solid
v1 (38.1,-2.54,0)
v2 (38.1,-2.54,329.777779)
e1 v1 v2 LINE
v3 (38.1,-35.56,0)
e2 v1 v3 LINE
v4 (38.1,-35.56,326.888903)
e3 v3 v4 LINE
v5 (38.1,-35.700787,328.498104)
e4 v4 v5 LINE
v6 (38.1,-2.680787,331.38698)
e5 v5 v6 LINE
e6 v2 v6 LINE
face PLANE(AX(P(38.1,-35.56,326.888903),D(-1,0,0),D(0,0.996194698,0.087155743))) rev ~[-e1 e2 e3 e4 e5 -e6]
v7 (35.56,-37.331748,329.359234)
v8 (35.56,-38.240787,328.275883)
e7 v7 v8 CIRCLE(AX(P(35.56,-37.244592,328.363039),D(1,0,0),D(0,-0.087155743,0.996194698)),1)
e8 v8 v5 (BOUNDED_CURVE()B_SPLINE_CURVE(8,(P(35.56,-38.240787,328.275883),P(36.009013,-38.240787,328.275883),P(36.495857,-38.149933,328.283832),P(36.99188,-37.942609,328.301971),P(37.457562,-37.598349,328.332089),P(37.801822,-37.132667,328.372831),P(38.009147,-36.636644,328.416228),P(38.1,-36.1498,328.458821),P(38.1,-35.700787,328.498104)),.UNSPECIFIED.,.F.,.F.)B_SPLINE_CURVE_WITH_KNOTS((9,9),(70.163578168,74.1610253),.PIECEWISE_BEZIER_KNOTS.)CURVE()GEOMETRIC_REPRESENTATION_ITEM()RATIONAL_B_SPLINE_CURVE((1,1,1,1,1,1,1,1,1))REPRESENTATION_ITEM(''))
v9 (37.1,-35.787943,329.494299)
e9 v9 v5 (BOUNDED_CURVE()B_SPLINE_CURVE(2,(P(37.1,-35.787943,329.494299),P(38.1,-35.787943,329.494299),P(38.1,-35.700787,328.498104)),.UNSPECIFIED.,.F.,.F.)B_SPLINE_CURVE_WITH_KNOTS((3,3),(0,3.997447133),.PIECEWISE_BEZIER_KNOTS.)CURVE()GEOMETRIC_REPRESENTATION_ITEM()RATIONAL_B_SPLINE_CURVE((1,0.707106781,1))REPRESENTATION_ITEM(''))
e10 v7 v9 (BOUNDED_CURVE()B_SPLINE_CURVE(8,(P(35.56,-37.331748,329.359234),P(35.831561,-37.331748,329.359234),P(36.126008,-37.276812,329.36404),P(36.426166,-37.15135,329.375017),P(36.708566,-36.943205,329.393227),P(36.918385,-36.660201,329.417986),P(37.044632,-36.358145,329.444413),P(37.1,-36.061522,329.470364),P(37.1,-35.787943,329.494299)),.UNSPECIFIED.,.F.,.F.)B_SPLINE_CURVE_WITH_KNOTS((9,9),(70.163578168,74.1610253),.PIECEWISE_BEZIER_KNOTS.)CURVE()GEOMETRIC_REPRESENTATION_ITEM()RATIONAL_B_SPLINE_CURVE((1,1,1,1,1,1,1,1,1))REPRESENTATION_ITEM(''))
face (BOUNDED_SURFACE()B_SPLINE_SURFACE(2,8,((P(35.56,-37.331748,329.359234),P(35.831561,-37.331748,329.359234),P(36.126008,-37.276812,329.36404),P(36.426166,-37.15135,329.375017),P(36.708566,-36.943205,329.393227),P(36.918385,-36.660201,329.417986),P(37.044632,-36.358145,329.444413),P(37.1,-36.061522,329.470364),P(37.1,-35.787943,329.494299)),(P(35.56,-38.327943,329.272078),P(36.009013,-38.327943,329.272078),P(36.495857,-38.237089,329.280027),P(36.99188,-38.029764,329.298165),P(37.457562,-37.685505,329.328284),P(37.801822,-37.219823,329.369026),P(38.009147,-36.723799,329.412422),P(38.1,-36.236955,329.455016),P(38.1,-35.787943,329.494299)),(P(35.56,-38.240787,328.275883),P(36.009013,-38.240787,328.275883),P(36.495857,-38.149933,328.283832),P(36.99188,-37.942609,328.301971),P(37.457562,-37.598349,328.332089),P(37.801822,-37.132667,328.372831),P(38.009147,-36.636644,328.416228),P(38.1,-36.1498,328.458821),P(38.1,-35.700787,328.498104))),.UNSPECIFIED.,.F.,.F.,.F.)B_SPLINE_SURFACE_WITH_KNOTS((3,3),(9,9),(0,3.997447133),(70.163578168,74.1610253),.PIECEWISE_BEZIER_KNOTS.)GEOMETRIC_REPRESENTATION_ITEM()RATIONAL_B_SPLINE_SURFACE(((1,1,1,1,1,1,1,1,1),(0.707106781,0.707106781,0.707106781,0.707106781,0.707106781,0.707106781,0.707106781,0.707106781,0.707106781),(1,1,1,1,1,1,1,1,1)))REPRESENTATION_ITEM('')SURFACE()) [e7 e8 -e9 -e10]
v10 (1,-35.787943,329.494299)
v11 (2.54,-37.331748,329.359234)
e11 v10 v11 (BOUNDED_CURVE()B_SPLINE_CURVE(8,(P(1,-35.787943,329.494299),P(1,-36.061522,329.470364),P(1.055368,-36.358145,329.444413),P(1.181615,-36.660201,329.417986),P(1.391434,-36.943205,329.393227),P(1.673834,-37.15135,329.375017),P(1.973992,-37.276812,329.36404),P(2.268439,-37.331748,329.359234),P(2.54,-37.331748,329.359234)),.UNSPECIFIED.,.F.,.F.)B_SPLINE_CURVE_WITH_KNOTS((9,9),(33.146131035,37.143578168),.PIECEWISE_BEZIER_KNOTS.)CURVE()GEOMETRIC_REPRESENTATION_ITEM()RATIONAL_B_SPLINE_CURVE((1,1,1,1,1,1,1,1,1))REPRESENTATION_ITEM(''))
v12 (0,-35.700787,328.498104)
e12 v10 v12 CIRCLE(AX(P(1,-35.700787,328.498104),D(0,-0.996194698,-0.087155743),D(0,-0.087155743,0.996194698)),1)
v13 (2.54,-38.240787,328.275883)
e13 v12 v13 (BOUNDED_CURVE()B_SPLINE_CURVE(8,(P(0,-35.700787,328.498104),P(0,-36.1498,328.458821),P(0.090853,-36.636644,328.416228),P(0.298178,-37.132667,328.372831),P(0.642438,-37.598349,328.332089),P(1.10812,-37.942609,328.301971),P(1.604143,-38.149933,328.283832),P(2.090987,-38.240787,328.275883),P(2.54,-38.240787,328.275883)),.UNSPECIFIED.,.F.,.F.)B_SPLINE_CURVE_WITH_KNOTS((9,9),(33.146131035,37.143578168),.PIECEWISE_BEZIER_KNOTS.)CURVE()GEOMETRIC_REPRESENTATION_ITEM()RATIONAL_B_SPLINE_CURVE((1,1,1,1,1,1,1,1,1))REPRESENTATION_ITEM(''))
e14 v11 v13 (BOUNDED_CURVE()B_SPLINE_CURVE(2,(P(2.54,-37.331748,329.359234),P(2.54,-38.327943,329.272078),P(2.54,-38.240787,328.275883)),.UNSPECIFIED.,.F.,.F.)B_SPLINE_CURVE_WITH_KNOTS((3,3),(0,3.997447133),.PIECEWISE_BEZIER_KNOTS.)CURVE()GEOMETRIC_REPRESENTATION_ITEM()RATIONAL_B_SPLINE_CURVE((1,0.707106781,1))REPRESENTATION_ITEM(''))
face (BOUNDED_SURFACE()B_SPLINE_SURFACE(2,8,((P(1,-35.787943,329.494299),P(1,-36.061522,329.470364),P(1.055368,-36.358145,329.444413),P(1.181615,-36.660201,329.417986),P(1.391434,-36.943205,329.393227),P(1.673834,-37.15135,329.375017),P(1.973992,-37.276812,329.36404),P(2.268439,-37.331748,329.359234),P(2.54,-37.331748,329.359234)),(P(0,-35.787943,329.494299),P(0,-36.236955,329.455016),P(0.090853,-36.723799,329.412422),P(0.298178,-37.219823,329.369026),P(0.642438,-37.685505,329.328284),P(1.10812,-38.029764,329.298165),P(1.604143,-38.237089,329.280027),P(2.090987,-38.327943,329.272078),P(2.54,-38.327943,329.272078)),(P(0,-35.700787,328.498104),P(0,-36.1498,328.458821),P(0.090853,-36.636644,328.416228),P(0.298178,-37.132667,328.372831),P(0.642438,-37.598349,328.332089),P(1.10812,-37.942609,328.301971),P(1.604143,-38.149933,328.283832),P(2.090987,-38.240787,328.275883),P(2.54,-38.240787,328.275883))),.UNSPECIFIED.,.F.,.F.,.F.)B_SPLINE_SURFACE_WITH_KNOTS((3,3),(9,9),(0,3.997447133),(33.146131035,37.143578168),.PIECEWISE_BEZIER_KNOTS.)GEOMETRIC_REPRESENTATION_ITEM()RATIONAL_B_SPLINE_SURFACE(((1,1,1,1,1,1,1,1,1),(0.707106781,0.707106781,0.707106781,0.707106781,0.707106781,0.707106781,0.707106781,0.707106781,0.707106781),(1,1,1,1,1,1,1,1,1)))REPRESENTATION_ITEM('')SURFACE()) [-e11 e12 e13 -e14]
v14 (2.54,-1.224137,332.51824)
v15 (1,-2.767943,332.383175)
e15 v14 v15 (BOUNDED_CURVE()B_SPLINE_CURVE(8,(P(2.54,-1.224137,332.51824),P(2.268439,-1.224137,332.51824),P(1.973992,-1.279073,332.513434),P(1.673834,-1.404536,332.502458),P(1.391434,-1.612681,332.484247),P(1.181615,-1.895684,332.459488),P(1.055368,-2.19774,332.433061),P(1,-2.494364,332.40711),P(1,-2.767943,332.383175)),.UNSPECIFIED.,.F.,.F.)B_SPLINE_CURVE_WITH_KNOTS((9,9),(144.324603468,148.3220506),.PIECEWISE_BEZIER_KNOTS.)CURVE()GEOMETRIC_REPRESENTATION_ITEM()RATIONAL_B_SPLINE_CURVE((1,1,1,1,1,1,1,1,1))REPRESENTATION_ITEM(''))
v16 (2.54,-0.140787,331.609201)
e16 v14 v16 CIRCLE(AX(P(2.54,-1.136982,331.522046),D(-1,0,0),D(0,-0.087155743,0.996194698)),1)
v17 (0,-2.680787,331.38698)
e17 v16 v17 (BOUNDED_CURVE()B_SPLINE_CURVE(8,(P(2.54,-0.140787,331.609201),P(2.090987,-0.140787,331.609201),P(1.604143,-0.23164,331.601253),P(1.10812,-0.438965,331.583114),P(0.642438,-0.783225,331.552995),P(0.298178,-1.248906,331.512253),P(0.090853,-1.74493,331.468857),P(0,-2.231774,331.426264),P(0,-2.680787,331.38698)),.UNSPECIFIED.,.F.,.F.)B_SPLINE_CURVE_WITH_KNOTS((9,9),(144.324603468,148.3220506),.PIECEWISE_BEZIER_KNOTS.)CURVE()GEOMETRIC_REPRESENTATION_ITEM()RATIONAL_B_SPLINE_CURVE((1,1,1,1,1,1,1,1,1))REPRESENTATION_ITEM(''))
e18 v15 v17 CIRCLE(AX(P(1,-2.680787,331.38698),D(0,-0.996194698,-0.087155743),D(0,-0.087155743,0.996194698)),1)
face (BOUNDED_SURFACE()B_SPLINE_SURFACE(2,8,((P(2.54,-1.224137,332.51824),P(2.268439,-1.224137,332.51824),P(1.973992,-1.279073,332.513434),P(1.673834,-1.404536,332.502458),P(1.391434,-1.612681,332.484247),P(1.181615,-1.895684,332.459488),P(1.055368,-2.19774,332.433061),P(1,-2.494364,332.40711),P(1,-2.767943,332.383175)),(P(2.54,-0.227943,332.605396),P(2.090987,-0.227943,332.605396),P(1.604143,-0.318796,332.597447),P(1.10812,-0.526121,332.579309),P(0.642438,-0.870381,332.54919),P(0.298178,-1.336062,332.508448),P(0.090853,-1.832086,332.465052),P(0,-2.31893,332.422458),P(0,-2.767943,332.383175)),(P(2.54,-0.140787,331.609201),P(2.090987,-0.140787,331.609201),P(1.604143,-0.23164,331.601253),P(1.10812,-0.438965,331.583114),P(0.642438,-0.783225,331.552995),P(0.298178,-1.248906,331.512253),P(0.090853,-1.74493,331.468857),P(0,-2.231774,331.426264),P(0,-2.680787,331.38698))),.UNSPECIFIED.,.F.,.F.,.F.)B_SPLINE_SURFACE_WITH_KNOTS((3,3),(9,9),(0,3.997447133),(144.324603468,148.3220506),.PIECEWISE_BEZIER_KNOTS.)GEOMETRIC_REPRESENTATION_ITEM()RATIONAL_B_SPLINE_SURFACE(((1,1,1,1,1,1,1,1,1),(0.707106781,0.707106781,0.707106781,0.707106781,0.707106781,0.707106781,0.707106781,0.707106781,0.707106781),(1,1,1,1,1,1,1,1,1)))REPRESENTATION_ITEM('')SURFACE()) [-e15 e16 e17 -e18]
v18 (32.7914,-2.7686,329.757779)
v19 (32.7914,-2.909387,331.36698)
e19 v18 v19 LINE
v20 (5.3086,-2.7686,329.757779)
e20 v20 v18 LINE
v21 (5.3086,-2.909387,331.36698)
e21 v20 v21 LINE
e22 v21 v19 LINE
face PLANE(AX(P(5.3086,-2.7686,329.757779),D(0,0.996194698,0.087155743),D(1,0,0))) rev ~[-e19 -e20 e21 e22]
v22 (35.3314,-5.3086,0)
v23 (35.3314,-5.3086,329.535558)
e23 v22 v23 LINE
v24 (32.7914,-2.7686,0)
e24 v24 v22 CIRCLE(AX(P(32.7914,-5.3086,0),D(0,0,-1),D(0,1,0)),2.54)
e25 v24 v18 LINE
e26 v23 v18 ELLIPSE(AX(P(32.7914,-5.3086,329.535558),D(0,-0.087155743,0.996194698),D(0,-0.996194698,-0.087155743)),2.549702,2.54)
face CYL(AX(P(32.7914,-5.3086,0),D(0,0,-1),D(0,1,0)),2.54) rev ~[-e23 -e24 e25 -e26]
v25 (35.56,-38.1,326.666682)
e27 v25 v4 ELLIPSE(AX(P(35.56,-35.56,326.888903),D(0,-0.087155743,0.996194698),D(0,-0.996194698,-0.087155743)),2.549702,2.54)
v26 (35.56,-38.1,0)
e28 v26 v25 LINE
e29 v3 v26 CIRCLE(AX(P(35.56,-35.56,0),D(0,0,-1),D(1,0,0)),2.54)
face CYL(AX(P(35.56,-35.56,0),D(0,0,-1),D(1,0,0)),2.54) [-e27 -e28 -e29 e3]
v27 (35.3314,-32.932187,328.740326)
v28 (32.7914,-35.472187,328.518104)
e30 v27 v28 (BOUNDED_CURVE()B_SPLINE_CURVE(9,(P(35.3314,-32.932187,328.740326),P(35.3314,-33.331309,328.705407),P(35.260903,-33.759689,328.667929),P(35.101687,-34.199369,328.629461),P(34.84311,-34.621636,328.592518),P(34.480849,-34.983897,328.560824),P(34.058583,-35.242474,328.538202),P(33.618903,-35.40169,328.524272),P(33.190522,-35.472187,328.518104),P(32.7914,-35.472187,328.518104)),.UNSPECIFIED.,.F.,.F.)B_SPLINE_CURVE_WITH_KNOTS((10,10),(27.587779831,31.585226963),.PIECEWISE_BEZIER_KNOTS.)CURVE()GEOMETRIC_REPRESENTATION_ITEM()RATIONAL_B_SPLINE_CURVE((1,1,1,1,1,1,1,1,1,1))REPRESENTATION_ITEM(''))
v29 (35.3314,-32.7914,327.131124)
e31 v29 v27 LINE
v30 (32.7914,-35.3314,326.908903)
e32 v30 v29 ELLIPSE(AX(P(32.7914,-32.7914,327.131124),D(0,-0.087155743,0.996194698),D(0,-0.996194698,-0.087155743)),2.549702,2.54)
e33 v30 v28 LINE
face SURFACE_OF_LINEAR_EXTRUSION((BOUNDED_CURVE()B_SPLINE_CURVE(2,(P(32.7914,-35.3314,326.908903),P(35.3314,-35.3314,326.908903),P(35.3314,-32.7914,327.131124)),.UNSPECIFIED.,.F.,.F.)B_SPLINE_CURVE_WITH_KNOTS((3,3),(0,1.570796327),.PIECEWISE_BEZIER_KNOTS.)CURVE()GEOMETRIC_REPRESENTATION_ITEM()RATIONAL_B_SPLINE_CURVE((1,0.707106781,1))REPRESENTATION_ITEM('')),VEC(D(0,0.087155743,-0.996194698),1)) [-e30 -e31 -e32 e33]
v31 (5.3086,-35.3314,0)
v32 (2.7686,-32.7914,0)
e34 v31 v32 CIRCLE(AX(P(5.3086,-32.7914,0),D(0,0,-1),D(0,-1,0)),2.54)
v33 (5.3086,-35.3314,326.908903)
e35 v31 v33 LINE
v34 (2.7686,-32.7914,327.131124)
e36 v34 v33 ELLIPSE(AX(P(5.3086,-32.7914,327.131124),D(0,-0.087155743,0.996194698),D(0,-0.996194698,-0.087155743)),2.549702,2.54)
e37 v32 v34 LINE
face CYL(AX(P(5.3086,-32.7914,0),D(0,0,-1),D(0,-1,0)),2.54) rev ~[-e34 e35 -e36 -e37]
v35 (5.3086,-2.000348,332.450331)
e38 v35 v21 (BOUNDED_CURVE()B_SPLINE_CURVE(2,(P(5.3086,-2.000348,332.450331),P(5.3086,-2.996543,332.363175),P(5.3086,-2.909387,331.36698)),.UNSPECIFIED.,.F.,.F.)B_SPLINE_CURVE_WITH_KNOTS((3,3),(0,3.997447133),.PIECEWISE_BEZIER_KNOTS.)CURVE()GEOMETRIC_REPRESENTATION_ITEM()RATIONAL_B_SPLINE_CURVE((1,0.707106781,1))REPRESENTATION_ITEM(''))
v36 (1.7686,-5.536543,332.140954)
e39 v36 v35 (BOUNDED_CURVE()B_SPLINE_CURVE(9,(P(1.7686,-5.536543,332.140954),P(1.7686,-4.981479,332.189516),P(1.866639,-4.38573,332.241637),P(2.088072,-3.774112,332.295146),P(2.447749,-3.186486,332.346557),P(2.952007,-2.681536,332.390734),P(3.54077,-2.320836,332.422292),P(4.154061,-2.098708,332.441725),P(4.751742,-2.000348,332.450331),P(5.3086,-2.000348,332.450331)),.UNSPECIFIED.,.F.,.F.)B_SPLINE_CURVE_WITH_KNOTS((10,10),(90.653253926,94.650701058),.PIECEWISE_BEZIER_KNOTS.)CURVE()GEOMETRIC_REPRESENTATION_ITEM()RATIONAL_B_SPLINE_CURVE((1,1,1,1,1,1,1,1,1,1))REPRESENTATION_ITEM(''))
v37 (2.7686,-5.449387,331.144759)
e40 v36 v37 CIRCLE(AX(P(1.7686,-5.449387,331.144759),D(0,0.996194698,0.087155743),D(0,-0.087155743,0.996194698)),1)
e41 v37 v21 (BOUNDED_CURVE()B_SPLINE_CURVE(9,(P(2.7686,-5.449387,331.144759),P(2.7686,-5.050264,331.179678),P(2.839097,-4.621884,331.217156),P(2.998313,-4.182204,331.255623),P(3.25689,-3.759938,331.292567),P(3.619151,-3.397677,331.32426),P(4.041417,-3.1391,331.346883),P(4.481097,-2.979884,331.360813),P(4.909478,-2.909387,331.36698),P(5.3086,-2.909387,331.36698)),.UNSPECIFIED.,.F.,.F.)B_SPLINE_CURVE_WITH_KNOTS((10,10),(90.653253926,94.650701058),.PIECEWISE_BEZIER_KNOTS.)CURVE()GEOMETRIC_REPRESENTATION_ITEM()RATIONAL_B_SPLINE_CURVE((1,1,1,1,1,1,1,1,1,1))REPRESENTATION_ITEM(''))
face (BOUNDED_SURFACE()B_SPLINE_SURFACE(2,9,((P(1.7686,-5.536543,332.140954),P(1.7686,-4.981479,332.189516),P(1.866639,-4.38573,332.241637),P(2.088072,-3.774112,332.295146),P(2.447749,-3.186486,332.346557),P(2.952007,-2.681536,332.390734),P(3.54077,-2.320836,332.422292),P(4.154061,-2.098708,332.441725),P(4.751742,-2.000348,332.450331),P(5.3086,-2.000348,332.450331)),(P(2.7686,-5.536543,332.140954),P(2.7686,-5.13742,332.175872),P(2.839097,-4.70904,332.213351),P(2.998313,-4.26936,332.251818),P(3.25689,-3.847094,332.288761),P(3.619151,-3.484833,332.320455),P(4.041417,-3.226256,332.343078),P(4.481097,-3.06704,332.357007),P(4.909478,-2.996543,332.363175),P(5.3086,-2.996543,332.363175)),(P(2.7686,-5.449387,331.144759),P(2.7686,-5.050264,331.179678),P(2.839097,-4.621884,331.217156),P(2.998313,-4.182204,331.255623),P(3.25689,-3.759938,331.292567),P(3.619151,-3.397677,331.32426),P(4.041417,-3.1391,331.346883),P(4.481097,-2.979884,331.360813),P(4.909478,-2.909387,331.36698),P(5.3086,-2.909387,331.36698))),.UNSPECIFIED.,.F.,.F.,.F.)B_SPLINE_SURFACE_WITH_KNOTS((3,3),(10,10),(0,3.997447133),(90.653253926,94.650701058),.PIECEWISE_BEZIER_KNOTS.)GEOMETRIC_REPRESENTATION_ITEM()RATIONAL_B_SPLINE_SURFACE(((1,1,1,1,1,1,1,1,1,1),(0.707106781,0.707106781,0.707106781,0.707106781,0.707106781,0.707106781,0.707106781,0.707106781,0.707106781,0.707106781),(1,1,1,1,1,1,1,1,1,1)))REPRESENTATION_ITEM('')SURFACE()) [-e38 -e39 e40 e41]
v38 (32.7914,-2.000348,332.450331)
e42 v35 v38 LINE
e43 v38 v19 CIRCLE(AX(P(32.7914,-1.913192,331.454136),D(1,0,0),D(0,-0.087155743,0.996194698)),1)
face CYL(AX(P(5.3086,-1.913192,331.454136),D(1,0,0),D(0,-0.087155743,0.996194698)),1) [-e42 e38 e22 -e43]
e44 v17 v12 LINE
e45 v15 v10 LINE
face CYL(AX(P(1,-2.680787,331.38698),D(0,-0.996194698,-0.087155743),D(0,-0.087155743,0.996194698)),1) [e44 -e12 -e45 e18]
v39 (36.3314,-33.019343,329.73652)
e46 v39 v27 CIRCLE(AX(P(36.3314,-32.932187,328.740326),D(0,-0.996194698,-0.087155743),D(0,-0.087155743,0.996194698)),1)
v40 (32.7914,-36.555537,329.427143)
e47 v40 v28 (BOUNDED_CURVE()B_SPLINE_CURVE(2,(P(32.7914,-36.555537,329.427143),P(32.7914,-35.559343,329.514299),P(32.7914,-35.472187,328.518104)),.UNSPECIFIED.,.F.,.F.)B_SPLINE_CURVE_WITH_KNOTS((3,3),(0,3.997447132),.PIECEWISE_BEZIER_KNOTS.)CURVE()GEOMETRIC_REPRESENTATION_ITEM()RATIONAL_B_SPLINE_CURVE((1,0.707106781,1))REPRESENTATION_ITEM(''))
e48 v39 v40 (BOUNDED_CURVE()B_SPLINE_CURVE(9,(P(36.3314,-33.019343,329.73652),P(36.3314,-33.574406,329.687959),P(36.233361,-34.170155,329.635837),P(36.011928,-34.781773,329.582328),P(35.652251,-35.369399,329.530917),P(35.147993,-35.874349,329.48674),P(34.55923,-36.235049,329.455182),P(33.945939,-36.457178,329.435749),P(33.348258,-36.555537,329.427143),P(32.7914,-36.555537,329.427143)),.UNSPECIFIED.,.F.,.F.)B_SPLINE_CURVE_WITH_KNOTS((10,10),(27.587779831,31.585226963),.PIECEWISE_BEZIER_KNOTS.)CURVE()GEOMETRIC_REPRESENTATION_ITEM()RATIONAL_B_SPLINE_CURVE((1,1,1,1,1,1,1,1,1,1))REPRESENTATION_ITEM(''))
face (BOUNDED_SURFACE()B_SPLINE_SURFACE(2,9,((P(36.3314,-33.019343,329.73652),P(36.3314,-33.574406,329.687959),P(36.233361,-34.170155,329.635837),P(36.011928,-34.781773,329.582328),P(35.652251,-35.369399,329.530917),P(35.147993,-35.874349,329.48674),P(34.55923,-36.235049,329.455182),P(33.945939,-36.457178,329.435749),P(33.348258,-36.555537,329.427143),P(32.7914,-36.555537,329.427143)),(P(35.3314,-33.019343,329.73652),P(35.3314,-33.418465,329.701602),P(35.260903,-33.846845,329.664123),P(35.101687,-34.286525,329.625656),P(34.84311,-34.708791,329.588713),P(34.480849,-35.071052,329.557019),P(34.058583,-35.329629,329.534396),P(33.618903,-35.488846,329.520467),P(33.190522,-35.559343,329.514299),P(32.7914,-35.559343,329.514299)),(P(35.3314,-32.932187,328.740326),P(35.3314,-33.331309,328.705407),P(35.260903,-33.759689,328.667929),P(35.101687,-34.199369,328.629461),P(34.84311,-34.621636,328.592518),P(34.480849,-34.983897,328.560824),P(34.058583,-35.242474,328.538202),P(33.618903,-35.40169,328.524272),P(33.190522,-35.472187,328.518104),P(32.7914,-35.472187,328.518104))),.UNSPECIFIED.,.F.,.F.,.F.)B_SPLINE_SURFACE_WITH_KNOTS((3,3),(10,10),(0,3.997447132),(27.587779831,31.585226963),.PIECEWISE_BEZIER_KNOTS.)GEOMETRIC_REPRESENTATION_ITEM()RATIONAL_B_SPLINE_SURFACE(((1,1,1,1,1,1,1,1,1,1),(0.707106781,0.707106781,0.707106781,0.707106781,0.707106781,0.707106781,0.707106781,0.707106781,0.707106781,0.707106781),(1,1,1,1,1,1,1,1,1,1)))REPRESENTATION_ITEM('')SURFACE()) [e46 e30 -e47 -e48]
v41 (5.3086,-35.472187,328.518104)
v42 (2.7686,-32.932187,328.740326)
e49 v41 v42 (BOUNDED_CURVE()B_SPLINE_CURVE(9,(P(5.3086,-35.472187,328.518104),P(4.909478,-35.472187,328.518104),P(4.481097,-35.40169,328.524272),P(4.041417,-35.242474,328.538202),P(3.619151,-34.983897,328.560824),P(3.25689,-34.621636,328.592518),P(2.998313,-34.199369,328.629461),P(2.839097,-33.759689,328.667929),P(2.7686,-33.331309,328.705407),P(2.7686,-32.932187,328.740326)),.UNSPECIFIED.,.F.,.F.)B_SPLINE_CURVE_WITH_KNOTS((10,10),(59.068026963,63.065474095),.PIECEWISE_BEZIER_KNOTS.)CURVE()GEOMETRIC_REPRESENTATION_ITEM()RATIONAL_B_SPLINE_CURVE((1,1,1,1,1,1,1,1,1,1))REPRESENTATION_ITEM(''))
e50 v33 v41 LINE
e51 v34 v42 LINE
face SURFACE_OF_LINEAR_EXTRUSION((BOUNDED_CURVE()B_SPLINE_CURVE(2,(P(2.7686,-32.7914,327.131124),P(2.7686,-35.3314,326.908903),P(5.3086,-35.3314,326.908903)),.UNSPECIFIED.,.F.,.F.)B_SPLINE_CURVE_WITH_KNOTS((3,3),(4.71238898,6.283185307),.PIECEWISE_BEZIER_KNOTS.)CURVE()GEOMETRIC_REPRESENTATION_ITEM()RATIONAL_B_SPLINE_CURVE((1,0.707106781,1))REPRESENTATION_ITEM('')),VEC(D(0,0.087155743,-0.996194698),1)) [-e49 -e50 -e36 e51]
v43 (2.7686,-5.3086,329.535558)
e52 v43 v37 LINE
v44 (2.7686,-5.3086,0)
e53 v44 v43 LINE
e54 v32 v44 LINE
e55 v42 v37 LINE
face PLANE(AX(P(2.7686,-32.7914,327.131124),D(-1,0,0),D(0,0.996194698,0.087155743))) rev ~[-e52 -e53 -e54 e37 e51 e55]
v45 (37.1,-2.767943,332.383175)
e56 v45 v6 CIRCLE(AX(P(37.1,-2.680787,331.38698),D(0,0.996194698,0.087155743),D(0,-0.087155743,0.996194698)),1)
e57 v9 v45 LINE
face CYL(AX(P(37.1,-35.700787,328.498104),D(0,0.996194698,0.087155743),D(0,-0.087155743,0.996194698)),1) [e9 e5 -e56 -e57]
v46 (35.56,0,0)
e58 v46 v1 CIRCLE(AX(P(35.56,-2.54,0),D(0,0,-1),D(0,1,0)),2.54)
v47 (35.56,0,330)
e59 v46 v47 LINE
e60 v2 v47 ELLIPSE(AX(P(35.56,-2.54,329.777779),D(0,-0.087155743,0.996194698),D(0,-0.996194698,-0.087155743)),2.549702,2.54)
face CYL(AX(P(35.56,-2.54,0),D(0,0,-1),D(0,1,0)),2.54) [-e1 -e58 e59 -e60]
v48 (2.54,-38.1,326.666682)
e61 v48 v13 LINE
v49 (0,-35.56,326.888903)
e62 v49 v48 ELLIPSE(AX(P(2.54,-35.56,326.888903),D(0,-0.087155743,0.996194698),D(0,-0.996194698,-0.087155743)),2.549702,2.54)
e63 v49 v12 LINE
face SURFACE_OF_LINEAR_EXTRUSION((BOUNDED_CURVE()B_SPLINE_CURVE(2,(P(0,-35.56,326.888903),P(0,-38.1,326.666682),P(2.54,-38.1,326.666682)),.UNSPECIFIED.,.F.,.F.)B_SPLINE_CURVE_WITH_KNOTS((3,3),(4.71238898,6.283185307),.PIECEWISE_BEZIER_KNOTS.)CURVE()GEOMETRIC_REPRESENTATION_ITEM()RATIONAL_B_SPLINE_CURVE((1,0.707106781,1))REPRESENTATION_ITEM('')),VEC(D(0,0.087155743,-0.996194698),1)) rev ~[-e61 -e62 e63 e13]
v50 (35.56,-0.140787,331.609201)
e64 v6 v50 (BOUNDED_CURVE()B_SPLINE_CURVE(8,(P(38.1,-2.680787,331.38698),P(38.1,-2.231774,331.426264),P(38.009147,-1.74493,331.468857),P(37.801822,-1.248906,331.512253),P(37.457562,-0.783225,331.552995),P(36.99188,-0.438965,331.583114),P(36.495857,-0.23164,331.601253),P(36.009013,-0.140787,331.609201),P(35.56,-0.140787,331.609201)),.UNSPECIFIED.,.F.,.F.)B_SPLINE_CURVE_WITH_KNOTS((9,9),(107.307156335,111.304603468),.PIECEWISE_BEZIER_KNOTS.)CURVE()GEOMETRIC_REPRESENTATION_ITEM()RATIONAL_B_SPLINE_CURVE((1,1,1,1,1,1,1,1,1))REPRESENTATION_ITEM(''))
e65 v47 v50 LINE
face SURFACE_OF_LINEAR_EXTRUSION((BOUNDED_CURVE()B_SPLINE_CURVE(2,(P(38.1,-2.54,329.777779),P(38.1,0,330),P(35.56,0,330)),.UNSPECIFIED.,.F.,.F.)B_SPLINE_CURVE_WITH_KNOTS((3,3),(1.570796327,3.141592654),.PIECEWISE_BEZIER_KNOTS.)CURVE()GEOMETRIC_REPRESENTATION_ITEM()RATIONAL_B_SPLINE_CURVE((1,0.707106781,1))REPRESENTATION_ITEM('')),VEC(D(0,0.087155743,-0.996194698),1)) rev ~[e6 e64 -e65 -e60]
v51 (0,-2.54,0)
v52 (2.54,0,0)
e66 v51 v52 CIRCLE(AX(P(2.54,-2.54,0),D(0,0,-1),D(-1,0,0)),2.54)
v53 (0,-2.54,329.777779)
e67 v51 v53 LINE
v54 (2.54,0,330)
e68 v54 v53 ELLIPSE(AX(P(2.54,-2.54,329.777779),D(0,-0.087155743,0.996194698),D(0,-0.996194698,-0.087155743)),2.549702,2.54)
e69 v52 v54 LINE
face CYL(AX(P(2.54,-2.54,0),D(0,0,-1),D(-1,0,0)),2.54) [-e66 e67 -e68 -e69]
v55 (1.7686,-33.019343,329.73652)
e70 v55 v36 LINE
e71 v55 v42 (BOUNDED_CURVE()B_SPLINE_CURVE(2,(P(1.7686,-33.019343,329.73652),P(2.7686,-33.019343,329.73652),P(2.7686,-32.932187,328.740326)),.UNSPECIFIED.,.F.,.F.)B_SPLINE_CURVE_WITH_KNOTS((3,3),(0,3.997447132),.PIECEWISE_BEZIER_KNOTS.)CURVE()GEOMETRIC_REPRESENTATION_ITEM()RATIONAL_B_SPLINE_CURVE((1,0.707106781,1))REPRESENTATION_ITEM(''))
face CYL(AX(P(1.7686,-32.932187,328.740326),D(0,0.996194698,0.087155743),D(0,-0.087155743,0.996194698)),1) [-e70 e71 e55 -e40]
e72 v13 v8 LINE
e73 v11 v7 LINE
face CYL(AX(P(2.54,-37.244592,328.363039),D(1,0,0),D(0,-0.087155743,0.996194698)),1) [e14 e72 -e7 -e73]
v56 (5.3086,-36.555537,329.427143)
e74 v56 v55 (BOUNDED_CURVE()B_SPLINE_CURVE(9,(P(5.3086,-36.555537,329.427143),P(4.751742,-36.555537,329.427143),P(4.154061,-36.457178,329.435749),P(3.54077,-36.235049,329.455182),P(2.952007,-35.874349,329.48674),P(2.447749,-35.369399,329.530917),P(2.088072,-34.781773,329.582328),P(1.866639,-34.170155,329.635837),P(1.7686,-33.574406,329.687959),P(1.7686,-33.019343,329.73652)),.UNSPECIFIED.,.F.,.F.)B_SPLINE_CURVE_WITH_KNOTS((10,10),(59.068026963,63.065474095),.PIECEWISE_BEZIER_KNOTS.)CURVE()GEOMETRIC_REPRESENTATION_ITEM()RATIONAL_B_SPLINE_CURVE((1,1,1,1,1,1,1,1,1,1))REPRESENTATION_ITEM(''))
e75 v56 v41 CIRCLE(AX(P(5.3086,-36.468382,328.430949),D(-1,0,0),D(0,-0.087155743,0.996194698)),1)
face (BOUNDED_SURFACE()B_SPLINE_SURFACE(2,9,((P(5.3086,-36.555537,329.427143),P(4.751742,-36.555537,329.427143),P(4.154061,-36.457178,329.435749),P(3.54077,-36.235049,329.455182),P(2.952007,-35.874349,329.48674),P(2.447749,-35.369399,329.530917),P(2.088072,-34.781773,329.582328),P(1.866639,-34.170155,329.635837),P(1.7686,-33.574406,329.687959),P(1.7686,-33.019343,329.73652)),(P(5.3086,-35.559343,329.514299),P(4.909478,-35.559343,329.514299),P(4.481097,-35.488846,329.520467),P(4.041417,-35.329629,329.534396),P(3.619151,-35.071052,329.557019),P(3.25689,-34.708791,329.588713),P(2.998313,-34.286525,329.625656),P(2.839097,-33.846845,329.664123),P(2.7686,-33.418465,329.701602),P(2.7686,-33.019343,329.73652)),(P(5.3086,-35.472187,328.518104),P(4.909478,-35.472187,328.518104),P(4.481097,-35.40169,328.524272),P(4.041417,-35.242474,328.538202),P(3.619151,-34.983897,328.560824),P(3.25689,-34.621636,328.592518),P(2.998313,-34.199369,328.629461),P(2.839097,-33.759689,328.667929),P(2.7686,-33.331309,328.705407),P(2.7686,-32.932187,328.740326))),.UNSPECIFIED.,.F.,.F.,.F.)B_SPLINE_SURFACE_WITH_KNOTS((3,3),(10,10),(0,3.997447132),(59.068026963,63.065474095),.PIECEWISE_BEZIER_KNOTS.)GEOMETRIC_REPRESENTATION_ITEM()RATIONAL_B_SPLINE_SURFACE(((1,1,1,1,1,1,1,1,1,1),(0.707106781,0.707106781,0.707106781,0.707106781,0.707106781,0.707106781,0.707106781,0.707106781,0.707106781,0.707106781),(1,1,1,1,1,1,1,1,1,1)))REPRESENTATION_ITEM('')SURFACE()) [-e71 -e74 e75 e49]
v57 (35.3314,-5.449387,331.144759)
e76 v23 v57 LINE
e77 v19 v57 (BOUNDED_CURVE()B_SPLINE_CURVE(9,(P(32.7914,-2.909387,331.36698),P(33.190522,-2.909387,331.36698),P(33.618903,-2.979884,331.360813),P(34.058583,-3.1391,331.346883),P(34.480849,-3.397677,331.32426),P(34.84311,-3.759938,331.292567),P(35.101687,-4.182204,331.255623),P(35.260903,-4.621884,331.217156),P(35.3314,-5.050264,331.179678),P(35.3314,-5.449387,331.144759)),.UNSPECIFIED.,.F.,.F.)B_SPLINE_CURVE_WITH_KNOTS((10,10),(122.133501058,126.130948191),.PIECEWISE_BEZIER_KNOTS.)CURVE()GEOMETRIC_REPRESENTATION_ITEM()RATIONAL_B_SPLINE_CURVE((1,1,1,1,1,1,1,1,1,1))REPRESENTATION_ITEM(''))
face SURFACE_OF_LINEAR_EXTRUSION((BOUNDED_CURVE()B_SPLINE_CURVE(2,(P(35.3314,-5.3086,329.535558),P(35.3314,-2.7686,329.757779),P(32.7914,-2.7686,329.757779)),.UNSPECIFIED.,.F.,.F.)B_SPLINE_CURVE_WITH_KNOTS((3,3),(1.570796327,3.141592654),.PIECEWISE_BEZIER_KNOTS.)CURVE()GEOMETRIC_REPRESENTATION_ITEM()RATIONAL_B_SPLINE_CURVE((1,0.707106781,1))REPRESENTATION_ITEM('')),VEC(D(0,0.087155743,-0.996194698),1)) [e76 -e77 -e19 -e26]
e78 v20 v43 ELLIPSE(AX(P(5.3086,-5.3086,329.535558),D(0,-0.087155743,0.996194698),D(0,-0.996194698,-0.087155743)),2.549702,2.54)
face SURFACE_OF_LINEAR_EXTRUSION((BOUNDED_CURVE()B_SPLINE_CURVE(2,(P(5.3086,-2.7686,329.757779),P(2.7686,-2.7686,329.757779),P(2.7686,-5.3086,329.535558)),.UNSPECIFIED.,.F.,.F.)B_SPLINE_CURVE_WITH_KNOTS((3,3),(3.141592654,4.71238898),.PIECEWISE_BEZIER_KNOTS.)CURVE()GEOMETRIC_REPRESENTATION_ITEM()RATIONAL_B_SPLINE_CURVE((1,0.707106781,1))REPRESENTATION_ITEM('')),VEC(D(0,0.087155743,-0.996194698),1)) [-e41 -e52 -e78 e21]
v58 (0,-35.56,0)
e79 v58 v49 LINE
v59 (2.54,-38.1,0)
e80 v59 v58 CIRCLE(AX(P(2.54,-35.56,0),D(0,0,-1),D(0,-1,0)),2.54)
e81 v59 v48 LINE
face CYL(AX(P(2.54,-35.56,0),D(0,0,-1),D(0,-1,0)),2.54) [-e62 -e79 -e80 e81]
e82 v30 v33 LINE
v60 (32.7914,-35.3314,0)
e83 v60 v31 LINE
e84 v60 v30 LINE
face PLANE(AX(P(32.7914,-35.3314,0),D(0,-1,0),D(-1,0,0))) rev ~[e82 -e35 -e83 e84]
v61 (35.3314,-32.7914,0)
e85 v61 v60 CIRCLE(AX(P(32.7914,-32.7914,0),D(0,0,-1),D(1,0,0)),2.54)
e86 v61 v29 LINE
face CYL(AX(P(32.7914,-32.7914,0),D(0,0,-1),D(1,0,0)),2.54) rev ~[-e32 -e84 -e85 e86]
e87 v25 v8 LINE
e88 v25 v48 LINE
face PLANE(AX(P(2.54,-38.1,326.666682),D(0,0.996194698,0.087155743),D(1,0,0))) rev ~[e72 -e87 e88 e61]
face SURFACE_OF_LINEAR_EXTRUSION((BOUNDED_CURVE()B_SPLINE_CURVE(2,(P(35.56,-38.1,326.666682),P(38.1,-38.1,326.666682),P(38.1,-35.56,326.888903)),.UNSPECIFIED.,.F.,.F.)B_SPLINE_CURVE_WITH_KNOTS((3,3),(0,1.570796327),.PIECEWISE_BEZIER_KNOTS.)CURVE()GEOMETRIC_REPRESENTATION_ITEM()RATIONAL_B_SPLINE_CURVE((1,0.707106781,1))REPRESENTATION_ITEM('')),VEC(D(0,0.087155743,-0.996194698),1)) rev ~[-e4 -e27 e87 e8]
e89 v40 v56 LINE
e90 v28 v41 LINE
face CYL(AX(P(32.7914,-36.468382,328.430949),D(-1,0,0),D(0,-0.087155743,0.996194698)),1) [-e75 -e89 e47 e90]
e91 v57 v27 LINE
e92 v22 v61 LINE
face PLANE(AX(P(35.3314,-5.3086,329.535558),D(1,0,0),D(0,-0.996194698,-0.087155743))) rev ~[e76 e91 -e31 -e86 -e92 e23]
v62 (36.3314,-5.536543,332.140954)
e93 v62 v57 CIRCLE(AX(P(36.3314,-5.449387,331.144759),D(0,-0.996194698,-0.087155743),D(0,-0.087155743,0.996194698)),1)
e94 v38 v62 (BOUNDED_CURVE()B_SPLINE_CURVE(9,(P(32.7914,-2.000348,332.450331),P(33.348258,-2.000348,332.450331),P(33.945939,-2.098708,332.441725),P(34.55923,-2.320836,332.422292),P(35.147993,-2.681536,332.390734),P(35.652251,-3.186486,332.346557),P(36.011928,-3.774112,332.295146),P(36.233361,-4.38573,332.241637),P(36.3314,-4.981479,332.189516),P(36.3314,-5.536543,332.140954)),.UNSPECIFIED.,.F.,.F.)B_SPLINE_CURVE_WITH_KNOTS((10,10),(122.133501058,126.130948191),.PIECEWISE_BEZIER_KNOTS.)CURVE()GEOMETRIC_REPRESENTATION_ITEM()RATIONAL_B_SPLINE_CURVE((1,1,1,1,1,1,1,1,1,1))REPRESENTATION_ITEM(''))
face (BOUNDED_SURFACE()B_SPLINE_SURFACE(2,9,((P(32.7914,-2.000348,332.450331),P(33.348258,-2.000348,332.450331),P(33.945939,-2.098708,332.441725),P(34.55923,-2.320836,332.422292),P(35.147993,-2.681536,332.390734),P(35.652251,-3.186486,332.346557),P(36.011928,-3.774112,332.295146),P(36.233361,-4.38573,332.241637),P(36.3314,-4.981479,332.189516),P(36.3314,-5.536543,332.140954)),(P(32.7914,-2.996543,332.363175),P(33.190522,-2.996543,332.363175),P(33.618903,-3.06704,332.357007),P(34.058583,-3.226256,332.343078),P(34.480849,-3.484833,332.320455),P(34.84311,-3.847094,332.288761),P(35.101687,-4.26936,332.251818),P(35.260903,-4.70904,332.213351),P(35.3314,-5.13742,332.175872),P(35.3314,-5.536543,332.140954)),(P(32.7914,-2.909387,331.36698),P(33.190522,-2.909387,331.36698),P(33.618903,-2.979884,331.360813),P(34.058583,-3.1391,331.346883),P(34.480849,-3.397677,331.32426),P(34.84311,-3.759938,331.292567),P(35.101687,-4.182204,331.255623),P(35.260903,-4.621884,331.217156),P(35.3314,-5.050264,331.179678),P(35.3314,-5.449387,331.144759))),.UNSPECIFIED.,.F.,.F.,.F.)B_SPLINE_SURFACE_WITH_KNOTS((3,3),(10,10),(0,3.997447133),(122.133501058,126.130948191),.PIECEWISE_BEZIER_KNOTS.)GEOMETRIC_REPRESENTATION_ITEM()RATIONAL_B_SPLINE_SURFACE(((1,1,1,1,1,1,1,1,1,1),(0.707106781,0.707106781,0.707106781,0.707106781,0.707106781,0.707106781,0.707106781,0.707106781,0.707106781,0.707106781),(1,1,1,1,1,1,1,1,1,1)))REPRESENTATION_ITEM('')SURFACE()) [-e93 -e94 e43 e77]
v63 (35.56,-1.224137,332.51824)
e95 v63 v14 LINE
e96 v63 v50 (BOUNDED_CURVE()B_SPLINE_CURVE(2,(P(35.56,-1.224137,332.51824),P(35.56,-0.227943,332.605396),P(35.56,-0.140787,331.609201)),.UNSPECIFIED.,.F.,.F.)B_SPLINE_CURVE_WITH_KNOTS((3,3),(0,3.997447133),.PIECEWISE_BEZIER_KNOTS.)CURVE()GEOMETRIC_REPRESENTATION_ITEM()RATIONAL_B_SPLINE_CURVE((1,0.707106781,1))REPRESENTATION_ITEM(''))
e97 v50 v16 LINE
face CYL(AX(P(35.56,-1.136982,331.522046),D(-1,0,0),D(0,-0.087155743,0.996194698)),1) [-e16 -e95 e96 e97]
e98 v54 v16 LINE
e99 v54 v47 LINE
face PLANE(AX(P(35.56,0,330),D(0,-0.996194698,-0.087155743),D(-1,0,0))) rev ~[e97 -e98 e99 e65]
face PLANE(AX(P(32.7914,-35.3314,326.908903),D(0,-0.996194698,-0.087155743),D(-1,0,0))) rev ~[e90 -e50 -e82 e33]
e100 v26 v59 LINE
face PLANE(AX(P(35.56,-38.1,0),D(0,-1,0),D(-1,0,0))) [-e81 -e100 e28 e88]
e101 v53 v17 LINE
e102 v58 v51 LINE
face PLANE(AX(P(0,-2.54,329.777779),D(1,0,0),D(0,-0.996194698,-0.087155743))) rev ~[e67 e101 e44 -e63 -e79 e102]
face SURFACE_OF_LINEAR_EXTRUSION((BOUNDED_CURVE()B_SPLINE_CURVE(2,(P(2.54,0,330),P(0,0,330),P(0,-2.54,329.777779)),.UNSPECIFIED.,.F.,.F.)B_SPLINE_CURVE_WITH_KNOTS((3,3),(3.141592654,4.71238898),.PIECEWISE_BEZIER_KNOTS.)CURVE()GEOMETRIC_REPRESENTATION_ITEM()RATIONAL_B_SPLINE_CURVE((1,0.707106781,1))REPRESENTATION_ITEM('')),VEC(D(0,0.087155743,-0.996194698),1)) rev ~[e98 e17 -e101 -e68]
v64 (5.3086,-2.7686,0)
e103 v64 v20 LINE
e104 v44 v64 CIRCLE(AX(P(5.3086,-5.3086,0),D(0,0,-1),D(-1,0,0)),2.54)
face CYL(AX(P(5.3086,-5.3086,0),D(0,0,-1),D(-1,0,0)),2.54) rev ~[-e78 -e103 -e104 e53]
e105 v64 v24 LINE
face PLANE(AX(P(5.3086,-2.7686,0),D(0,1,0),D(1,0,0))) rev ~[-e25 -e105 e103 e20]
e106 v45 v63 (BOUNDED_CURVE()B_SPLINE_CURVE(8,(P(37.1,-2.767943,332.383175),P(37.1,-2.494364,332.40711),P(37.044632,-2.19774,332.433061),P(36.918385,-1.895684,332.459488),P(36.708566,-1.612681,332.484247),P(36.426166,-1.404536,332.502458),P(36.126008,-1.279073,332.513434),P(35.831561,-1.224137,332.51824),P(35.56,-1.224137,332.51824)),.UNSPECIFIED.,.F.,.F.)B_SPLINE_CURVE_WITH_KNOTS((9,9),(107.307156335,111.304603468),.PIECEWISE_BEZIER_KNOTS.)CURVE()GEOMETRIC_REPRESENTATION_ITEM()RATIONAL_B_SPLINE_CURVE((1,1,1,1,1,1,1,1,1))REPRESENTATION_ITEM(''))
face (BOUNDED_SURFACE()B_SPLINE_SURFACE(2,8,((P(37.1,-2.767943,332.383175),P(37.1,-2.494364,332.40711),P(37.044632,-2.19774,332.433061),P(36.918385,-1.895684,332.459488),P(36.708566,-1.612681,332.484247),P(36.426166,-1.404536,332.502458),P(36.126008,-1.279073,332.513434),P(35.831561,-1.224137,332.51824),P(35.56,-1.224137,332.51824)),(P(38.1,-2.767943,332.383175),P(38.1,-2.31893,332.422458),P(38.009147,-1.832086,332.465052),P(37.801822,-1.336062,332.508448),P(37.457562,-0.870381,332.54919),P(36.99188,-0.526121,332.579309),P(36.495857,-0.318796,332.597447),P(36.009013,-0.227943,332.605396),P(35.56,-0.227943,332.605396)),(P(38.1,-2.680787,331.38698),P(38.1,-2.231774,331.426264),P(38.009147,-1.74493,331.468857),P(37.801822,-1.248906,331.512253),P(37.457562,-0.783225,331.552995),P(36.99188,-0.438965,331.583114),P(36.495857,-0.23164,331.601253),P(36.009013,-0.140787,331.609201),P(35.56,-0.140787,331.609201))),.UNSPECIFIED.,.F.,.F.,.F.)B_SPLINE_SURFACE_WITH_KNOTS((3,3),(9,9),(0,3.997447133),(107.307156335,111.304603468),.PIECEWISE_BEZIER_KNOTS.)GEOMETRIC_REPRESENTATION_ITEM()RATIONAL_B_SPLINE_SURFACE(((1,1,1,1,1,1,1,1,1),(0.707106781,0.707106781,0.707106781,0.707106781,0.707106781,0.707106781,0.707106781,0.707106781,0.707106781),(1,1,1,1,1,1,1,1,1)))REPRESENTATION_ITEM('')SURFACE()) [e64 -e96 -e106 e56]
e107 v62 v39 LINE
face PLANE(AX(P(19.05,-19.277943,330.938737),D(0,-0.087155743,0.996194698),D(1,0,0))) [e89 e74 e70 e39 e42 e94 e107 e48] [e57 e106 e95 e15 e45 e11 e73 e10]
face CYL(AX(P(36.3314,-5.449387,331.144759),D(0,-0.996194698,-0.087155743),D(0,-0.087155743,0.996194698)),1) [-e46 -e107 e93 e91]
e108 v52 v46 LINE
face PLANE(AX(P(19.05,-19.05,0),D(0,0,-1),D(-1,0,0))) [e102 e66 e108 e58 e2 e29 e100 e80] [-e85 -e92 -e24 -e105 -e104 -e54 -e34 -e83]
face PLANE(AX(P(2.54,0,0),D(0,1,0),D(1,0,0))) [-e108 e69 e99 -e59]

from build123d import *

# Parameters (mm, degrees)
BOSS_EXTRUDE1_DEPTH = 330
CUT_EXTRUDE1_DEPTH  = 335.369885008
BOSS_EXTRUDE2_DEPTH = 2.615348253
FILLET1_R           = 1


with BuildPart() as part:
    # Sketch1 → Boss-Extrude1 (new body)
    with BuildSketch(Plane.XY):
        with BuildLine():
            Line((2.54, 0), (35.56, 0))
            ThreePointArc((35.56, 0), (37.356051224, -0.743948776), (38.1, -2.54))
            Line((38.1, -2.54), (38.1, -35.56))
            ThreePointArc((38.1, -35.56), (37.356051224, -37.356051224), (35.56, -38.1))
            Line((35.56, -38.1), (2.54, -38.1))
            ThreePointArc((2.54, -38.1), (0.743948776, -37.356051224), (0, -35.56))
            Line((0, -35.56), (0, -2.54))
            ThreePointArc((0, -2.54), (0.743948776, -0.743948776), (2.54, 0))
        make_face()
        with BuildLine():
            Line((5.3086, -2.7686), (32.7914, -2.7686))
            ThreePointArc((32.7914, -2.7686), (34.587451224, -3.512548776), (35.3314, -5.3086))
            Line((35.3314, -5.3086), (35.3314, -32.7914))
            ThreePointArc((35.3314, -32.7914), (34.587451224, -34.587451224), (32.7914, -35.3314))
            Line((32.7914, -35.3314), (5.3086, -35.3314))
            ThreePointArc((5.3086, -35.3314), (3.512548776, -34.587451224), (2.7686, -32.7914))
            Line((2.7686, -32.7914), (2.7686, -5.3086))
            ThreePointArc((2.7686, -5.3086), (3.512548776, -3.512548776), (5.3086, -2.7686))
        make_face(mode=Mode.SUBTRACT)
    extrude(amount=BOSS_EXTRUDE1_DEPTH)

    # Sketch2 → Cut-Extrude1 (cut, through all)
    with BuildSketch(Plane(origin=(38.1, 0, 0), x_dir=(0, 0, -1), z_dir=(1, 0, 0))):
        Polygon((-330, 0), (-326.66668192, -38.1), (-330, -38.1), align=None)
    extrude(amount=-CUT_EXTRUDE1_DEPTH, mode=Mode.SUBTRACT)

    # Sketch3 → Boss-Extrude2 (add)
    with BuildSketch(Plane(origin=(0, -28.651949315, 327.493279247), x_dir=(1, 0, 0), z_dir=(0, -0.08715574274765835, 0.9961946980917457))):
        with BuildLine():
            Line((2.54, -9.484140704), (35.56, -9.484140704))
            add(Edge.make_bspline(
                [(35.56, -9.484140704), (38.1, -9.484140704), (38.1, -6.934438316)],
                knots=[0, 0, 0, 1.570796327, 1.570796327, 1.570796327], degree=2, weights=[1, 0.707106781, 1]))
            Line((38.1, -6.934438316), (38.1, 26.211692719))
            add(Edge.make_bspline(
                [(38.1, 26.211692719), (38.1, 28.761395107), (35.56, 28.761395107)],
                knots=[1.570796327, 1.570796327, 1.570796327, 3.141592654, 3.141592654, 3.141592654], degree=2, weights=[1, 0.707106781, 1]))
            Line((35.56, 28.761395107), (2.54, 28.761395107))
            add(Edge.make_bspline(
                [(2.54, 28.761395107), (0, 28.761395107), (0, 26.211692719)],
                knots=[3.141592654, 3.141592654, 3.141592654, 4.71238898, 4.71238898, 4.71238898], degree=2, weights=[1, 0.707106781, 1]))
            Line((0, 26.211692719), (0, -6.934438316))
            add(Edge.make_bspline(
                [(0, -6.934438316), (0, -9.484140704), (2.54, -9.484140704)],
                knots=[4.71238898, 4.71238898, 4.71238898, 6.283185307, 6.283185307, 6.283185307], degree=2, weights=[1, 0.707106781, 1]))
        make_face()
        with BuildLine():
            Line((35.3314, 23.432517117), (35.3314, -4.155262714))
            add(Edge.make_bspline(
                [(32.7914, -6.704965101), (35.3314, -6.704965101), (35.3314, -4.155262714)],
                knots=[0, 0, 0, 1.570796327, 1.570796327, 1.570796327], degree=2, weights=[1, 0.707106781, 1]))
            Line((32.7914, -6.704965101), (5.3086, -6.704965101))
            add(Edge.make_bspline(
                [(2.7686, -4.155262714), (2.7686, -6.704965101), (5.3086, -6.704965101)],
                knots=[4.71238898, 4.71238898, 4.71238898, 6.283185307, 6.283185307, 6.283185307], degree=2, weights=[1, 0.707106781, 1]))
            Line((2.7686, -4.155262714), (2.7686, 23.432517117))
            add(Edge.make_bspline(
                [(5.3086, 25.982219505), (2.7686, 25.982219505), (2.7686, 23.432517117)],
                knots=[3.141592654, 3.141592654, 3.141592654, 4.71238898, 4.71238898, 4.71238898], degree=2, weights=[1, 0.707106781, 1]))
            Line((5.3086, 25.982219505), (32.7914, 25.982219505))
            add(Edge.make_bspline(
                [(35.3314, 23.432517117), (35.3314, 25.982219505), (32.7914, 25.982219505)],
                knots=[1.570796327, 1.570796327, 1.570796327, 3.141592654, 3.141592654, 3.141592654], degree=2, weights=[1, 0.707106781, 1]))
        make_face(mode=Mode.SUBTRACT)
    extrude(amount=BOSS_EXTRUDE2_DEPTH)

    # Fillet1
    fillet1_edges = [part.edges().sort_by_distance(p)[0] for p in [
        (35.3314, -19.27794262, 330.938737023),
        (34.589162497, -34.813680939, 329.579536041),
        (19.05, -35.55934262, 329.514299097),
        (3.510837922, -34.813681359, 329.579536004),
        (2.7686, -19.27794262, 330.938737023),
        (3.510837503, -3.7422043, 332.297938006),
        (19.05, -2.99654262, 332.363174949),
        (34.589162078, -3.74220388, 332.297938042),
        (0, -19.27794262, 330.938737023),
        (0.742237922, -37.582281359, 329.33731489),
        (19.05, -38.32794262, 329.272077983),
        (37.357762497, -37.582280939, 329.337314927),
        (38.1, -19.27794262, 330.938737023),
        (37.357762078, -0.97360388, 332.540159156),
        (19.05, -0.22794262, 332.605396063),
        (0.742237503, -0.9736043, 332.540159119),
    ]]
    fillet(fillet1_edges, radius=FILLET1_R)


solid = part.part
